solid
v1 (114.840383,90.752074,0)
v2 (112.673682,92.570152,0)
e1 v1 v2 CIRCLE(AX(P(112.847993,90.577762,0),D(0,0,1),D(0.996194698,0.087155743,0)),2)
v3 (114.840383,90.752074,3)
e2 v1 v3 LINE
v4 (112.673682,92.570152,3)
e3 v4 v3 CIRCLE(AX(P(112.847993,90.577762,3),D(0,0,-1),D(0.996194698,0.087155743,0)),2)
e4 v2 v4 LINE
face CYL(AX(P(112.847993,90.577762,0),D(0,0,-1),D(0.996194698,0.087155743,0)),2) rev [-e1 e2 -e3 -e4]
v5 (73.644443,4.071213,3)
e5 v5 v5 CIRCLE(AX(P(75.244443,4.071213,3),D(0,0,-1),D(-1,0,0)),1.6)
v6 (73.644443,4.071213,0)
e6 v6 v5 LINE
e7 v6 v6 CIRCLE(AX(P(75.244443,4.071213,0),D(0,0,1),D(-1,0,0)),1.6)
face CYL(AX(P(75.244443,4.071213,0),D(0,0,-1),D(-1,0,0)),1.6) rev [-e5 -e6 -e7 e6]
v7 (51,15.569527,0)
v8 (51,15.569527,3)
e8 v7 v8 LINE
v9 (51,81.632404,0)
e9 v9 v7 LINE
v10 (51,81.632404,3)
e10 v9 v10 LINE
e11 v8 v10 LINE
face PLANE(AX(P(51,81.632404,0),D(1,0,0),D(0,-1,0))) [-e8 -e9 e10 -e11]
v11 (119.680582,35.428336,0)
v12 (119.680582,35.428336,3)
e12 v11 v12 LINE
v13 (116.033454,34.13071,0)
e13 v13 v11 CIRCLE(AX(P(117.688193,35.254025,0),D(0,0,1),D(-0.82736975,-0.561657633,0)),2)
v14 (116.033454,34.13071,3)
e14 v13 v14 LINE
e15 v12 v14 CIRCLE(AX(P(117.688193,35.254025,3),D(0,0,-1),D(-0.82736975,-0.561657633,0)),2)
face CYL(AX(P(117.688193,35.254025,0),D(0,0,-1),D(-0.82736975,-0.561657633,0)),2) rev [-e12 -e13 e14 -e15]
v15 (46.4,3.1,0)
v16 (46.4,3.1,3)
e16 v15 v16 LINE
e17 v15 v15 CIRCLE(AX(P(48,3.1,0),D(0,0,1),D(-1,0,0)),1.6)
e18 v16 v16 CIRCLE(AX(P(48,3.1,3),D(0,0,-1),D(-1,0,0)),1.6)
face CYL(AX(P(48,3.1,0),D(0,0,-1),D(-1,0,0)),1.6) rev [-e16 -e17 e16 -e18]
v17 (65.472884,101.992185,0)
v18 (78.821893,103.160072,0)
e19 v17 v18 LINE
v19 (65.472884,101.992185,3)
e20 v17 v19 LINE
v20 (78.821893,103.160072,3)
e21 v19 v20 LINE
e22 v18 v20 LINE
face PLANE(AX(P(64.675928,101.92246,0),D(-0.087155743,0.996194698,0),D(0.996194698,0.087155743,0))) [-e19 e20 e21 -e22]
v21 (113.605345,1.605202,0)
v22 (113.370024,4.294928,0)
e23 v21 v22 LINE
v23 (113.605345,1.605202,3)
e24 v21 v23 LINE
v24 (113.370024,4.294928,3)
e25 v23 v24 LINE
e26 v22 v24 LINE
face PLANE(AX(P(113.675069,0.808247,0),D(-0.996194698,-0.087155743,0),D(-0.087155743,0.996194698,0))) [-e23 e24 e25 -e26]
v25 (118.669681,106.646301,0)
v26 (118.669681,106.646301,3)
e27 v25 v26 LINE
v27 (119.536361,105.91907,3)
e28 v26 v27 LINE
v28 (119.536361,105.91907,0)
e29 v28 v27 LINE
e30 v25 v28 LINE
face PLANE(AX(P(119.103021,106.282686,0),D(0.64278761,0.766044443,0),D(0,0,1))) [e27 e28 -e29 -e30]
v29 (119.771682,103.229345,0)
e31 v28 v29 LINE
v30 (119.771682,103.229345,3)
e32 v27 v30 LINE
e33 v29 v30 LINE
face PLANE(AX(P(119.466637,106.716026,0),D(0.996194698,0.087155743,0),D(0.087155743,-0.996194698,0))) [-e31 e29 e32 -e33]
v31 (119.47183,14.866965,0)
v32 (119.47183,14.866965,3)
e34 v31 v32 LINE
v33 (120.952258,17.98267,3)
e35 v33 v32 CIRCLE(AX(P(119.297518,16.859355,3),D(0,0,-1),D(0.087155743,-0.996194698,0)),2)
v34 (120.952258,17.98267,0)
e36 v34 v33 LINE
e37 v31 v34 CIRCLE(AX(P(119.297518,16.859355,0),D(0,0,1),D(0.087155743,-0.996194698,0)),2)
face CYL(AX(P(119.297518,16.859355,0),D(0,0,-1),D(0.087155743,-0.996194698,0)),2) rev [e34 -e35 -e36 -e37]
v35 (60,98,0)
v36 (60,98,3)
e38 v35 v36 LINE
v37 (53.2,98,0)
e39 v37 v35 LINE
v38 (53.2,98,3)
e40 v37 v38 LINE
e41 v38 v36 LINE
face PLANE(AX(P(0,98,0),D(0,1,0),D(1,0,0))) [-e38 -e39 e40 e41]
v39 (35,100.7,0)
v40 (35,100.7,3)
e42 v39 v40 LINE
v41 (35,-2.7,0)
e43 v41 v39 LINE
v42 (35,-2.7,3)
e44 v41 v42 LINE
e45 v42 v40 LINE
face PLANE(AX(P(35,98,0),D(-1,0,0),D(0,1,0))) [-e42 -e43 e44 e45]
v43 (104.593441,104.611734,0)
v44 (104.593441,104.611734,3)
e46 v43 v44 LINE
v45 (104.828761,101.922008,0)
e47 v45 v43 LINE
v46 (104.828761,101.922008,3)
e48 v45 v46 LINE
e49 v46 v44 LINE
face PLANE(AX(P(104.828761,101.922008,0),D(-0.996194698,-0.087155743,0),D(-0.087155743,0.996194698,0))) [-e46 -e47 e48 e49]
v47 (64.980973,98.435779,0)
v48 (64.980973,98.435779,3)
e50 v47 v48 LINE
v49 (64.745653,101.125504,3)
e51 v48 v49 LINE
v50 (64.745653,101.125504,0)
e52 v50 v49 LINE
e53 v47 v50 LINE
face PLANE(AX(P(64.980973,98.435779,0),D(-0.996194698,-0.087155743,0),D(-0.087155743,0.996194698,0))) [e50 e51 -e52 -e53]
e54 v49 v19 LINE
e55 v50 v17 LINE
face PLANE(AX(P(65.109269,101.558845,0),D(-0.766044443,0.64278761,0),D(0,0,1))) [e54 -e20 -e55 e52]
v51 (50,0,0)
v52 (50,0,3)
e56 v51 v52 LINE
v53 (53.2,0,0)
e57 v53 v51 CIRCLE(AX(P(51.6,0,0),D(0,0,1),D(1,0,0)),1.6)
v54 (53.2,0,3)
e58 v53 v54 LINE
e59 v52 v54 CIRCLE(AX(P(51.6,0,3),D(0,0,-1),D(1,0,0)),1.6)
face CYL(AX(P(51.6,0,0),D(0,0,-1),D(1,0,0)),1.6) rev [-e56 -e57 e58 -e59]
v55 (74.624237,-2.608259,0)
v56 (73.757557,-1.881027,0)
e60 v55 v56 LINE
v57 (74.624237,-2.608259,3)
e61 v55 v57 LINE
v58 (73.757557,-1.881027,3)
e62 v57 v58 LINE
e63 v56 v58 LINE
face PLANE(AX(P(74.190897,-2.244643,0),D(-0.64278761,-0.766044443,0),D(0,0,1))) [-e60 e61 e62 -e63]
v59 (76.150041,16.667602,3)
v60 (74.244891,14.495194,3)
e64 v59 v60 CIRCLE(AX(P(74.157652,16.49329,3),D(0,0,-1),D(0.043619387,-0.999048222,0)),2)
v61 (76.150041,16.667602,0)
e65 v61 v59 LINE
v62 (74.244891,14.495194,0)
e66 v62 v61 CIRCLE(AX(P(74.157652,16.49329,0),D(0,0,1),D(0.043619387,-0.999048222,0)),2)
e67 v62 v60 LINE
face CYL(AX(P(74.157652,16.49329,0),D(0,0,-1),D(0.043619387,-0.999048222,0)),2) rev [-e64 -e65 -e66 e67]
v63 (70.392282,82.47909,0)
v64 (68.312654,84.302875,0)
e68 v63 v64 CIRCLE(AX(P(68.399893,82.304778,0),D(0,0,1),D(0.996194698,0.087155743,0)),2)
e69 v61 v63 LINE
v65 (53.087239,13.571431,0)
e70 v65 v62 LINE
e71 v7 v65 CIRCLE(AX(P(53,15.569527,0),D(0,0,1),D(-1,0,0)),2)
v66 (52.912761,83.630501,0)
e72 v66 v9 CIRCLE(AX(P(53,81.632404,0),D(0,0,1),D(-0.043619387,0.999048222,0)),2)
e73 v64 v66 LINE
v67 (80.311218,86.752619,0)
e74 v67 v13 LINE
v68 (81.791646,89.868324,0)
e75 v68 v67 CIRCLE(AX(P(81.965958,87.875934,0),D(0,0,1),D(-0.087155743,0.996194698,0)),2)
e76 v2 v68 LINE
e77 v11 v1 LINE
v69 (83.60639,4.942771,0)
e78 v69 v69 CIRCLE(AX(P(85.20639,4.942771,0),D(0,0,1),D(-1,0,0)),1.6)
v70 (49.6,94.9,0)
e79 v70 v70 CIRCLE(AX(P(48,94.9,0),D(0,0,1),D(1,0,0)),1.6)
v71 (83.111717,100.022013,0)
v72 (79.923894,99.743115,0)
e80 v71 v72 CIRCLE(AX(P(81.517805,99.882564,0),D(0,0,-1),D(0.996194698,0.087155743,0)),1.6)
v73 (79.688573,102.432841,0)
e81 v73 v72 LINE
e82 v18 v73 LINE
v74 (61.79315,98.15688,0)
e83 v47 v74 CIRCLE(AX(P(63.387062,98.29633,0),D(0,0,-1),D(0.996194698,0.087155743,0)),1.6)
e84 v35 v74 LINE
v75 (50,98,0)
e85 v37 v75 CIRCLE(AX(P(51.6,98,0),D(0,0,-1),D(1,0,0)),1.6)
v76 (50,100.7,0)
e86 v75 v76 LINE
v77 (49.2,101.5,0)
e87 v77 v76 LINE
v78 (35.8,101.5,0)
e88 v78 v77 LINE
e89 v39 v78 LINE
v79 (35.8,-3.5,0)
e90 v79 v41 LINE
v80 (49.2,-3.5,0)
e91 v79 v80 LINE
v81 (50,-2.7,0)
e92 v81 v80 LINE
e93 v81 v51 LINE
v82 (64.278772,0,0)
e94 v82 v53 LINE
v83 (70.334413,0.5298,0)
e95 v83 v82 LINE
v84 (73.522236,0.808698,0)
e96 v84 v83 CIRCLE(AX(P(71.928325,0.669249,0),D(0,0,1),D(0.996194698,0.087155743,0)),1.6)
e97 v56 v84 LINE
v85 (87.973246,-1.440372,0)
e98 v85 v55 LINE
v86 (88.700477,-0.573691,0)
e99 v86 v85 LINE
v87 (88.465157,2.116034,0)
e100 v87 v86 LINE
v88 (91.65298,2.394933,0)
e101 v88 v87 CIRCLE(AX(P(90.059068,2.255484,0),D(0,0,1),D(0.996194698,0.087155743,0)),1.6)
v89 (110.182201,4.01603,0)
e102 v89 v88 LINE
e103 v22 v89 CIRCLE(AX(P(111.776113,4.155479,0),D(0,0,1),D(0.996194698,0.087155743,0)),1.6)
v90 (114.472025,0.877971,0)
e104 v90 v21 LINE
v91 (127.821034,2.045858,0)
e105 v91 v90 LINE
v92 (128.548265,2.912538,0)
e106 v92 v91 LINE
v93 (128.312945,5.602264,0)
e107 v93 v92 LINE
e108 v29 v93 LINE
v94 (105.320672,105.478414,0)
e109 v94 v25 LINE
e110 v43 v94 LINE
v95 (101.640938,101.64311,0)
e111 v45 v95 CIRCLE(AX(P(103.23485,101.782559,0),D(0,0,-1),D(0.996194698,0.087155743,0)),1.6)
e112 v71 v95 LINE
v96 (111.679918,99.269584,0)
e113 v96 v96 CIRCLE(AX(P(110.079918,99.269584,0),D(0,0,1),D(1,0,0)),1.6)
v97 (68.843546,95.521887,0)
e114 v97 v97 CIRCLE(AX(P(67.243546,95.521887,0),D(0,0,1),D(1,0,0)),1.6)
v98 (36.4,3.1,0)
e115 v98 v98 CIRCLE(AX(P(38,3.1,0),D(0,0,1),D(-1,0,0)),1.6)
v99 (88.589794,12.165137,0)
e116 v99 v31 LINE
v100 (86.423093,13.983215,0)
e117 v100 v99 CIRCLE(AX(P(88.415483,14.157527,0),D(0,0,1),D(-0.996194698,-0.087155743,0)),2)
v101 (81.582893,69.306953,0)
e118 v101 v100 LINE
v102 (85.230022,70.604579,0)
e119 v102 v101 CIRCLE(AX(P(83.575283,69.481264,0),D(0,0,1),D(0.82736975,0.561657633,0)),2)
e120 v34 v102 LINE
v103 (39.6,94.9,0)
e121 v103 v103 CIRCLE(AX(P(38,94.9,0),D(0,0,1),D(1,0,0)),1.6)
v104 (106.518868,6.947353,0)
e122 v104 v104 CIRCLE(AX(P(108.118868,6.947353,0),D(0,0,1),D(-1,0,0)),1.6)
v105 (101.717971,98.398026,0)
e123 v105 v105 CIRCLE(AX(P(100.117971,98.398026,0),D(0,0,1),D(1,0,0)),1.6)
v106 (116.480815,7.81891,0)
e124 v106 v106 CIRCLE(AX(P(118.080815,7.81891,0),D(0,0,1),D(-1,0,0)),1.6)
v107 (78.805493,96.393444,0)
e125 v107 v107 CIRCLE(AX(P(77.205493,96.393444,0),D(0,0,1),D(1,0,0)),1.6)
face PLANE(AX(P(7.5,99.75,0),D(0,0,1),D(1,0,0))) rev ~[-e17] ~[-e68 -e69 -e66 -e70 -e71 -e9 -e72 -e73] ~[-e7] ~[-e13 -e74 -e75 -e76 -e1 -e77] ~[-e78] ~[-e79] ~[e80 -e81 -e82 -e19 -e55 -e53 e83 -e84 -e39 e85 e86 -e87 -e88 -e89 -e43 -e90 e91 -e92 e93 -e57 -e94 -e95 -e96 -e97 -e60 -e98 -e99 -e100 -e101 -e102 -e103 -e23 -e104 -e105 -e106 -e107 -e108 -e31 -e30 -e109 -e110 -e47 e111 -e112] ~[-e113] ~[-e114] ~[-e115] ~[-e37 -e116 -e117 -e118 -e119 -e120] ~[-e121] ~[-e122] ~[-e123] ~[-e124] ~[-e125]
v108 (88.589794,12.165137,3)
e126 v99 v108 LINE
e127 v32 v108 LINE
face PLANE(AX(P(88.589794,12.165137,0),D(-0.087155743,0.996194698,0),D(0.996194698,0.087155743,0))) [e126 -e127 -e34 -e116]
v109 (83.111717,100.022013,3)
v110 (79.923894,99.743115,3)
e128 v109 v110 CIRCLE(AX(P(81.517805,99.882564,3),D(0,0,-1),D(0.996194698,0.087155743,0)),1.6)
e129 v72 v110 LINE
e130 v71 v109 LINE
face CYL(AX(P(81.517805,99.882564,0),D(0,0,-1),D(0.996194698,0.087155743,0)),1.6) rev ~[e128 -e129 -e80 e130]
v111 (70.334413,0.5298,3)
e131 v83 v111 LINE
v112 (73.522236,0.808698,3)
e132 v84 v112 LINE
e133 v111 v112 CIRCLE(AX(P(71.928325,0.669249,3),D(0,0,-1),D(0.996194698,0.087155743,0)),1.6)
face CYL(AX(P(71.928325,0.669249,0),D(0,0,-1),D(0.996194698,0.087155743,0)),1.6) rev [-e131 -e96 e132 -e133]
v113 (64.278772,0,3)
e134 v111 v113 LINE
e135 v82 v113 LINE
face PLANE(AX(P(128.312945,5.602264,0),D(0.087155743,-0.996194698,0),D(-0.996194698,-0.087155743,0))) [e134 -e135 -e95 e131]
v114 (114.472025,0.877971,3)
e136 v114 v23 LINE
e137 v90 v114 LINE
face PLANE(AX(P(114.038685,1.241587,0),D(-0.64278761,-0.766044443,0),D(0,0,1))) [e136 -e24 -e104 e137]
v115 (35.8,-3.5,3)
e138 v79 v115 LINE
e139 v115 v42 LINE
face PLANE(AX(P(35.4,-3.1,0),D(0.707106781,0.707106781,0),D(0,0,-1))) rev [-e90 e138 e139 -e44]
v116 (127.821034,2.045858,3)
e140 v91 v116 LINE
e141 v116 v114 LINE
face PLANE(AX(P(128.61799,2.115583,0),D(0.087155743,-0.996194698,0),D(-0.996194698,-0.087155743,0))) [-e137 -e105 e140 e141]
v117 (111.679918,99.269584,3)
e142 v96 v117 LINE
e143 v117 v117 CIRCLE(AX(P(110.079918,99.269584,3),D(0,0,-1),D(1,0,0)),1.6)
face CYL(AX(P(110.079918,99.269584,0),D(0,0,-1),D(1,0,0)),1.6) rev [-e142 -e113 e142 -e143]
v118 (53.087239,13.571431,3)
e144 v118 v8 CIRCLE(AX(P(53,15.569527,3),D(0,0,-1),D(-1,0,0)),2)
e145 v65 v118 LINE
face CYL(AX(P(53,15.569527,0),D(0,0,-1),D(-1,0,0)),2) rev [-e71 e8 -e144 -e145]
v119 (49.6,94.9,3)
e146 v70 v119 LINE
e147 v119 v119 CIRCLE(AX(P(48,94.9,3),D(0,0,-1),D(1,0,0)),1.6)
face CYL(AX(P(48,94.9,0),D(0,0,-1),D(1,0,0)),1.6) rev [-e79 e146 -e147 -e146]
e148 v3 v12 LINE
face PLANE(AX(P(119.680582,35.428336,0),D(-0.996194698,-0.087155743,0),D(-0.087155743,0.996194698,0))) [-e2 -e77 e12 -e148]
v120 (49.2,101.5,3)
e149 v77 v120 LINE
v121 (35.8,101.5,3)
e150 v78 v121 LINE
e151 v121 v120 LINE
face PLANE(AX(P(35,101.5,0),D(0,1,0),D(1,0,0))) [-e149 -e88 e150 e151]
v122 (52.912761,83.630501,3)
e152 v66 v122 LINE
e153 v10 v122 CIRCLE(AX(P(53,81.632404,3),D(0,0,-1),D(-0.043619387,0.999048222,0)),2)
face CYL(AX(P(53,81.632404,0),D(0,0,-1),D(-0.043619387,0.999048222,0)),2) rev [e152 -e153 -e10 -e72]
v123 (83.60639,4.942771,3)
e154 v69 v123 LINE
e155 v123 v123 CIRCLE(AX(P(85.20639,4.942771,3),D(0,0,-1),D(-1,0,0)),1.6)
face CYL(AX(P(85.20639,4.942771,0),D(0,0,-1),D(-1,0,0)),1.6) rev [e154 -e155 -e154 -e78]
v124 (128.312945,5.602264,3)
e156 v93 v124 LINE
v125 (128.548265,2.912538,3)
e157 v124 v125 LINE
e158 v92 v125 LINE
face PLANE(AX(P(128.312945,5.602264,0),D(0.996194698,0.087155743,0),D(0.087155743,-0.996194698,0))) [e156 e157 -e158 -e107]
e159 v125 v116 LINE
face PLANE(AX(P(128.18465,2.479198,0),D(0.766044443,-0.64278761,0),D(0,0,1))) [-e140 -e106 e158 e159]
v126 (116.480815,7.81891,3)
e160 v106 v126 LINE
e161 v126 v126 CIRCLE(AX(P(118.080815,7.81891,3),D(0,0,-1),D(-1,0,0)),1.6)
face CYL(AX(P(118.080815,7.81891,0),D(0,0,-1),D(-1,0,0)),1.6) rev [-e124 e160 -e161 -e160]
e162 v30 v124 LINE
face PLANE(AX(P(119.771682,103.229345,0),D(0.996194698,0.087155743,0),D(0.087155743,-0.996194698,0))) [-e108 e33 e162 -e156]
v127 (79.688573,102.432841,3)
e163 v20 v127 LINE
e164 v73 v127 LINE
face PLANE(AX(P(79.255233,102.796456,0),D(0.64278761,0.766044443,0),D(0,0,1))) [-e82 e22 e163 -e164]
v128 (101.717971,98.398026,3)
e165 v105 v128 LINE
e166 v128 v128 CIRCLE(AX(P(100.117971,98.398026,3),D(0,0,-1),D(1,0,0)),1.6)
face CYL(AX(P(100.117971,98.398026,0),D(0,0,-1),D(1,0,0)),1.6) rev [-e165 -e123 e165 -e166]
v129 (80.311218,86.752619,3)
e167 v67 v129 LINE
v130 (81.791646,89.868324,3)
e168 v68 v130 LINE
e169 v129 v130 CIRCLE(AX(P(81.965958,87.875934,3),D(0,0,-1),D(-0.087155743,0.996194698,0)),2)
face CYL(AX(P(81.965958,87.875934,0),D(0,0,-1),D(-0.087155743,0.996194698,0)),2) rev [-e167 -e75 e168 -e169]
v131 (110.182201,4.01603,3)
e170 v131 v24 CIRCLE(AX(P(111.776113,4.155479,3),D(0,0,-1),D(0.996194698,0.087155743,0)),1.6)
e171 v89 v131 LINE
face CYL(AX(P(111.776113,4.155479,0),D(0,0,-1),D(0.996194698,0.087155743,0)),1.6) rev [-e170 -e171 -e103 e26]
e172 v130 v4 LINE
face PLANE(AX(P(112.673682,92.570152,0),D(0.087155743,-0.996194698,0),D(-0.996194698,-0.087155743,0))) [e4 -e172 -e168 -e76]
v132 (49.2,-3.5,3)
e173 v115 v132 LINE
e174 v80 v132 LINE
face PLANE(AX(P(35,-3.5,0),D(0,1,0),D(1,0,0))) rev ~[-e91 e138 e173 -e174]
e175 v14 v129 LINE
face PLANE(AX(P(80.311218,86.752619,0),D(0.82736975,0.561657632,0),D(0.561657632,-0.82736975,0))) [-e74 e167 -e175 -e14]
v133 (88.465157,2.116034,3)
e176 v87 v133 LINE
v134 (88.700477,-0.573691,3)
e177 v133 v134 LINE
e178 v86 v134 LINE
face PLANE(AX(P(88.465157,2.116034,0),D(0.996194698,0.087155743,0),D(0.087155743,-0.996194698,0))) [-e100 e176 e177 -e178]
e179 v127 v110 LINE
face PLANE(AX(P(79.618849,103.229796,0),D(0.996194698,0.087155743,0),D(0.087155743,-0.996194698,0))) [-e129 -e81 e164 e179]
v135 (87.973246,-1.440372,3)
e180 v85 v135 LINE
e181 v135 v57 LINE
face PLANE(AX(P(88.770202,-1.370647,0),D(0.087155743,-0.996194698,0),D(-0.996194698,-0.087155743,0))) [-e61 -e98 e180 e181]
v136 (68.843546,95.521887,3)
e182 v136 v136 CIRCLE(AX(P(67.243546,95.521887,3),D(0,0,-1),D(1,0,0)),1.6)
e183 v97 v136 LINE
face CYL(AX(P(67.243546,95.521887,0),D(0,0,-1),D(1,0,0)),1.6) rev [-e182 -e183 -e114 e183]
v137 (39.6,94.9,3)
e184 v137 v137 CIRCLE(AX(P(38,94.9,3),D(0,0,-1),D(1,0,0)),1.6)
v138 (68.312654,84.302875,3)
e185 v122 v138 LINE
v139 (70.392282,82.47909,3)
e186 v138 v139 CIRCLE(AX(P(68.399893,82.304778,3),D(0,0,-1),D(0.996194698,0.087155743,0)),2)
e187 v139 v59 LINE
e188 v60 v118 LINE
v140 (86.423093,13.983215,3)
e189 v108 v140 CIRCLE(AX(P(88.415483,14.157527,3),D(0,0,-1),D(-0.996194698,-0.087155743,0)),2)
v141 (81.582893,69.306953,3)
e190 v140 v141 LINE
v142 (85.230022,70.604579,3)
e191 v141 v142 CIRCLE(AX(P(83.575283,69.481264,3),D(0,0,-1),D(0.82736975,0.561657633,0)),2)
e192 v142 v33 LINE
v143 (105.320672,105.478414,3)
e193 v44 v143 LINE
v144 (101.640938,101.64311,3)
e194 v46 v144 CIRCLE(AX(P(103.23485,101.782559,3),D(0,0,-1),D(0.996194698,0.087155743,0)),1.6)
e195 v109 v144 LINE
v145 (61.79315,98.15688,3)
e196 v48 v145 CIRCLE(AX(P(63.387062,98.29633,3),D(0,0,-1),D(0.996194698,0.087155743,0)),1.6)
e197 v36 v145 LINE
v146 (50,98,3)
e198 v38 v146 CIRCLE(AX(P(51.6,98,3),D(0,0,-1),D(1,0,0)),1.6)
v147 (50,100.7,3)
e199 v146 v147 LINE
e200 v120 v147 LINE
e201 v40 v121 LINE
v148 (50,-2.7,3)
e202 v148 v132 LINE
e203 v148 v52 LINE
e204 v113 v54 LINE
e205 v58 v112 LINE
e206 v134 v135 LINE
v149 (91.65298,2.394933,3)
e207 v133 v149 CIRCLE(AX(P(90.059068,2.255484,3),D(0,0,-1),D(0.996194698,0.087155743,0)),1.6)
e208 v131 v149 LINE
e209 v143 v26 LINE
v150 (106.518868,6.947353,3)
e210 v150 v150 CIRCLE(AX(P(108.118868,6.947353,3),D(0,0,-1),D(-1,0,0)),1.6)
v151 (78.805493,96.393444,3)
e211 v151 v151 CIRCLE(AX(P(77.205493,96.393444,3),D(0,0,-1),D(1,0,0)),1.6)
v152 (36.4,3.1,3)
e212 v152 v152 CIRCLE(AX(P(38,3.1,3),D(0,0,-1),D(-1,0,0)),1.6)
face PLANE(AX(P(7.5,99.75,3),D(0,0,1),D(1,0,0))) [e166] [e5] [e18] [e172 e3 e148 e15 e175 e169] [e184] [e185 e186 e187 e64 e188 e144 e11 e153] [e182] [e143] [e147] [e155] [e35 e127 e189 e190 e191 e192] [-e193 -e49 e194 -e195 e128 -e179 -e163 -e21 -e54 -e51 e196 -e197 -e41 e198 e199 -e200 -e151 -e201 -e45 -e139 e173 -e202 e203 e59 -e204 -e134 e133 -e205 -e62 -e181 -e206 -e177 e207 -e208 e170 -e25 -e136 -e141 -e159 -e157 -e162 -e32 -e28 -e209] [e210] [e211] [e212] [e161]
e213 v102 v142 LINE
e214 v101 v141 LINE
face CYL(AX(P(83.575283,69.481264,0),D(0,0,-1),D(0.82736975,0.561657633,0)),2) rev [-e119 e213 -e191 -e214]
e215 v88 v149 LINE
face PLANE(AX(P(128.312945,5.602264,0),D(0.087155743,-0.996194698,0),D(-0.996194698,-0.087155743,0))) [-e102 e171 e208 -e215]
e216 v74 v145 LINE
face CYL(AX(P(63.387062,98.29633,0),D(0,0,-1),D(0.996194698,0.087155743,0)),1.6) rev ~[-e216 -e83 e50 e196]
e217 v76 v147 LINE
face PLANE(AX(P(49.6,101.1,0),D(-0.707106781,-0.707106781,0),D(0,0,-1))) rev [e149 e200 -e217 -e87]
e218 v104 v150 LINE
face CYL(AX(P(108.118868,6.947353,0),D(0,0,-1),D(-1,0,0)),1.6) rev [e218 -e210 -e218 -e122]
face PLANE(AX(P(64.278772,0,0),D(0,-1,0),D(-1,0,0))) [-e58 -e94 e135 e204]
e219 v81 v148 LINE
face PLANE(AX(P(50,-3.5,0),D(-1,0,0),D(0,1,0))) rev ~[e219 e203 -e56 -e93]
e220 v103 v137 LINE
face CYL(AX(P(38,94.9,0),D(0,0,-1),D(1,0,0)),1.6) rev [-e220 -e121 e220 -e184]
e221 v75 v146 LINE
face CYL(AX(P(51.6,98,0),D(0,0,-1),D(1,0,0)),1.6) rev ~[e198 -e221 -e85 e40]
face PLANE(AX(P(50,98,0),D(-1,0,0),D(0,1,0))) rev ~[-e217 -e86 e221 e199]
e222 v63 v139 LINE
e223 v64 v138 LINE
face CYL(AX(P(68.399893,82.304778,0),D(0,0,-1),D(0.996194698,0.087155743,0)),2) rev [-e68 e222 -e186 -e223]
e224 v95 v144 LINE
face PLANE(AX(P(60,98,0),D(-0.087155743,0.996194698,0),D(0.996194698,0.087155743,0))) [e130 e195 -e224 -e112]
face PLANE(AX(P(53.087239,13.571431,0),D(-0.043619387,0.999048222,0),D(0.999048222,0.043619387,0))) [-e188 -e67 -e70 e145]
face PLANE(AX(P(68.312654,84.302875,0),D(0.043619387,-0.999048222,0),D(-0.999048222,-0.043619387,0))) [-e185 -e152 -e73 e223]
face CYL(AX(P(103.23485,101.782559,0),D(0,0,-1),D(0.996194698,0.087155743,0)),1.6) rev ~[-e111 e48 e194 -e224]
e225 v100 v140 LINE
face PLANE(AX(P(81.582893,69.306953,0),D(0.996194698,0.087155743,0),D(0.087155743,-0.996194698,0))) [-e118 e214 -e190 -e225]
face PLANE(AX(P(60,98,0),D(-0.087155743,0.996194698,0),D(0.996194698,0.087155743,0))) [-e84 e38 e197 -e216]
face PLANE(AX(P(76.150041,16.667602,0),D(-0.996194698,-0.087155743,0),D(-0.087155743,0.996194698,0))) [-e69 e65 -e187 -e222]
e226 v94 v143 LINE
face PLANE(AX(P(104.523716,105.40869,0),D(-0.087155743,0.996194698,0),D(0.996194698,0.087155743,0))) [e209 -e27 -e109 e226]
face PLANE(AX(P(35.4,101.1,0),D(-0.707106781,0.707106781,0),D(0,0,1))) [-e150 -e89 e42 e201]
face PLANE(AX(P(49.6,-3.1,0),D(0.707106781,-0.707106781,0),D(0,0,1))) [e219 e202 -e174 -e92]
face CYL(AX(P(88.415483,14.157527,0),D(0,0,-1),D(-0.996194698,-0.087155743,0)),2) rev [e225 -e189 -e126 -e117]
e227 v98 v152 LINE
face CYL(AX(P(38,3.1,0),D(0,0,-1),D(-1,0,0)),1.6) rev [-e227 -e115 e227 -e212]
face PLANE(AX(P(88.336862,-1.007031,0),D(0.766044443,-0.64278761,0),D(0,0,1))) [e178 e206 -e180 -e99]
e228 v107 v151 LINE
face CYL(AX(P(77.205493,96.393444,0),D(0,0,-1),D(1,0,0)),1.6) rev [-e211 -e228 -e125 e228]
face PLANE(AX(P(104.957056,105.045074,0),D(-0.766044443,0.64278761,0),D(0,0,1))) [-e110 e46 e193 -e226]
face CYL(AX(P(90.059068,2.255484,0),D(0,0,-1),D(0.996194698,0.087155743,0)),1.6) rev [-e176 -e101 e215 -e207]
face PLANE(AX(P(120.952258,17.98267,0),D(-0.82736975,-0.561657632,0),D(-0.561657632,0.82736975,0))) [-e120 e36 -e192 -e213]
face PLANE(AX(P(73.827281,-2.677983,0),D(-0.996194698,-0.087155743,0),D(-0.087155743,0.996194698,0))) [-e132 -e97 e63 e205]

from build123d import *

# Parameters (mm, degrees)
EXTRUDE_1_DEPTH     = 3
EXTRUDE_2_DEPTH     = 3
SKETCH_3_R          = 1.6
CUT_EXTRUDE_1_DEPTH = 168.152318263
SKETCH_4_W          = 15
SKETCH_4_H          = 3.5
EXTRUDE_3_DEPTH     = 3
SKETCH_5_R          = 1.6
CUT_EXTRUDE_2_DEPTH = 168.152318263
CHAMFER_1_SIZE      = 0.8
CUT_EXTRUDE_3_DEPTH = 168.054153154
CUT_EXTRUDE_4_DEPTH = 10


with BuildPart() as part:
    # 草图1 → 凸台-拉伸1 (new body)
    with BuildSketch(Plane.XY):
        Polygon((0, 0), (0, 98), (60, 98), (119.771681886, 103.229344565), (128.312944675, 5.602264152), (64.278772405, 0), align=None)
    extrude(amount=EXTRUDE_1_DEPTH)

    # 草图2 → 凸台-拉伸2 (add, through all)
    with BuildSketch(Plane.XY):
        Polygon((119.771681886, 103.229344565), (104.828761414, 101.922008424), (104.523716315, 105.408689867), (119.466636786, 106.716026008), align=None)
        Polygon((79.923893962, 99.743114855), (64.98097349, 98.435778714), (64.675928391, 101.922460157), (79.618848862, 103.229796298), align=None)
        Polygon((128.617989774, 2.115582709), (113.675069303, 0.808246567), (113.370024203, 4.294928011), (128.312944675, 5.602264152), align=None)
        Polygon((88.770201851, -1.370647001), (73.827281379, -2.677983143), (73.52223628, 0.808698301), (88.465156751, 2.116034442), align=None)
    extrude(amount=EXTRUDE_2_DEPTH)

    # 草图3 → 切除-拉伸1 (cut, through all)
    with BuildSketch(Plane.XY):
        with Locations((110.079917707, 99.269583573)):
            Circle(SKETCH_3_R)
        with Locations((100.117970726, 98.398026146)):
            Circle(SKETCH_3_R)
        with Locations((77.20549267, 96.393444063)):
            Circle(SKETCH_3_R)
        with Locations((67.243545689, 95.521886635)):
            Circle(SKETCH_3_R)
        with Locations(Location((118.080814891, 7.818910288, 0), (0, 0, 180))):
            Circle(SKETCH_3_R)
        with Locations(Location((108.11886791, 6.947352861, 0), (0, 0, 180))):
            Circle(SKETCH_3_R)
        with Locations(Location((85.206389854, 4.942770778, 0), (0, 0, 180))):
            Circle(SKETCH_3_R)
        with Locations(Location((75.244442873, 4.07121335, 0), (0, 0, 180))):
            Circle(SKETCH_3_R)
        with BuildLine():
            Line((101.64093838, 101.643110047), (104.828761414, 101.922008424))
            ThreePointArc((104.828761414, 101.922008424), (103.374299086, 100.188647718), (101.64093838, 101.643110047))
        make_face()
        with BuildLine():
            Line((79.923893962, 99.743114855), (83.111716996, 100.022013232))
            ThreePointArc((83.111716996, 100.022013232), (81.657254667, 98.288652526), (79.923893962, 99.743114855))
        make_face()
        with BuildLine():
            Line((61.793150457, 98.156880337), (64.98097349, 98.435778714))
            ThreePointArc((64.98097349, 98.435778714), (63.526511162, 96.702418008), (61.793150457, 98.156880337))
        make_face()
        with BuildLine():
            Line((70.334413246, 0.529799924), (73.52223628, 0.808698301))
            ThreePointArc((73.52223628, 0.808698301), (71.788875574, 2.263160629), (70.334413246, 0.529799924))
        make_face()
        with BuildLine():
            Line((88.465156751, 2.116034442), (91.652979785, 2.394932819))
            ThreePointArc((91.652979785, 2.394932819), (89.91961908, 3.849395147), (88.465156751, 2.116034442))
        make_face()
        with BuildLine():
            Line((110.18220117, 4.016029634), (113.370024203, 4.294928011))
            ThreePointArc((113.370024203, 4.294928011), (111.636663498, 5.749390339), (110.18220117, 4.016029634))
        make_face()
    extrude(amount=CUT_EXTRUDE_1_DEPTH, mode=Mode.SUBTRACT)

    # 草图4 → 凸台-拉伸3 (add, through all)
    with BuildSketch(Plane.XY):
        with Locations((42.5, 99.75)):
            Rectangle(SKETCH_4_W, SKETCH_4_H)
        with Locations((7.5, 99.75)):
            Rectangle(SKETCH_4_W, SKETCH_4_H)
        with Locations((42.5, -1.75)):
            Rectangle(SKETCH_4_W, SKETCH_4_H)
        with Locations((7.5, -1.75)):
            Rectangle(SKETCH_4_W, SKETCH_4_H)
    extrude(amount=EXTRUDE_3_DEPTH)

    # 草图5 → 切除-拉伸2 (cut, through all)
    with BuildSketch(Plane.XY):
        with Locations((3, 94.9)):
            Circle(SKETCH_5_R)
        with Locations((13, 94.9)):
            Circle(SKETCH_5_R)
        with Locations((38, 94.9)):
            Circle(SKETCH_5_R)
        with Locations((48, 94.9)):
            Circle(SKETCH_5_R)
        with Locations(Location((3, 3.1, 0), (0, 0, 180))):
            Circle(SKETCH_5_R)
        with Locations(Location((13, 3.1, 0), (0, 0, 180))):
            Circle(SKETCH_5_R)
        with Locations(Location((48, 3.1, 0), (0, 0, 180))):
            Circle(SKETCH_5_R)
        with Locations(Location((38, 3.1, 0), (0, 0, 180))):
            Circle(SKETCH_5_R)
        with BuildLine():
            Line((15, 98), (18.2, 98))
            ThreePointArc((18.2, 98), (16.6, 96.4), (15, 98))
        make_face()
        with BuildLine():
            Line((31.8, 98), (35, 98))
            ThreePointArc((35, 98), (33.4, 96.4), (31.8, 98))
        make_face()
        with BuildLine():
            Line((50, 98), (53.2, 98))
            ThreePointArc((53.2, 98), (51.6, 96.4), (50, 98))
        make_face()
        with BuildLine():
            Line((50, 0), (53.2, 0))
            ThreePointArc((53.2, 0), (51.6, 1.6), (50, 0))
        make_face()
        with BuildLine():
            Line((31.8, 0), (35, 0))
            ThreePointArc((35, 0), (33.4, 1.6), (31.8, 0))
        make_face()
        with BuildLine():
            Line((15, 0), (18.2, 0))
            ThreePointArc((18.2, 0), (16.6, 1.6), (15, 0))
        make_face()
    extrude(amount=CUT_EXTRUDE_2_DEPTH, mode=Mode.SUBTRACT)

    # 倒角1
    chamfer_1_edges = [part.edges().sort_by_distance(p)[0] for p in [
        (0, 101.5, 1.5),
        (15, 101.5, 1.5),
        (35, -3.5, 1.5),
        (50, -3.5, 1.5),
        (35, 101.5, 1.5),
        (50, 101.5, 1.5),
        (0, -3.5, 1.5),
        (15, -3.5, 1.5),
        (119.466636786, 106.716026008, 1.5),
        (104.523716315, 105.408689867, 1.5),
        (79.618848862, 103.229796298, 1.5),
        (64.675928391, 101.922460157, 1.5),
        (128.617989774, 2.115582709, 1.5),
        (113.675069303, 0.808246567, 1.5),
        (88.770201851, -1.370647001, 1.5),
        (73.827281379, -2.677983143, 1.5),
    ]]
    chamfer(chamfer_1_edges, length=CHAMFER_1_SIZE)

    # 草图6 → 切除-拉伸3 (cut, through all)
    with BuildSketch(Plane.XY):
        with BuildLine():
            Line((88.589794022, 12.165137166), (119.471829663, 14.866965191))
            ThreePointArc((119.471829663, 14.866965191), (121.103967944, 16.001019432), (120.952257678, 17.982669852))
            Line((120.952257678, 17.982669852), (85.230022186, 70.604579281))
            ThreePointArc((85.230022186, 70.604579281), (82.904864414, 71.365551505), (81.582893289, 69.306952531))
            Line((81.582893289, 69.306952531), (86.42309314, 13.983215076))
            ThreePointArc((86.42309314, 13.983215076), (87.129907317, 12.625437676), (88.589794022, 12.165137166))
        make_face()
        with BuildLine():
            Line((119.680582461, 35.428336277), (114.84038261, 90.752073731))
            ThreePointArc((114.84038261, 90.752073731), (114.133568433, 92.109851132), (112.673681728, 92.570151642))
            Line((112.673681728, 92.570151642), (81.791646087, 89.868323617))
            ThreePointArc((81.791646087, 89.868323617), (80.159507806, 88.734269376), (80.311218072, 86.752618956))
            Line((80.311218072, 86.752618956), (116.033453564, 34.130709527))
            ThreePointArc((116.033453564, 34.130709527), (118.358611336, 33.369737303), (119.680582461, 35.428336277))
        make_face()
        with BuildLine():
            Line((51, 81.632404391), (51, 15.56952717))
            ThreePointArc((51, 15.56952717), (51.616973888, 14.124799246), (53.087238775, 13.571430727))
            Line((53.087238775, 13.571430727), (74.244890746, 14.495193762))
            ThreePointArc((74.244890746, 14.495193762), (75.661331586, 15.174598575), (76.150041367, 16.667601691))
            Line((76.150041367, 16.667601691), (70.392282235, 82.479089719))
            ThreePointArc((70.392282235, 82.479089719), (69.718584469, 83.808457848), (68.312654064, 84.302874676))
            Line((68.312654064, 84.302874676), (52.912761225, 83.630500834))
            ThreePointArc((52.912761225, 83.630500834), (51.555272076, 83.015430503), (51, 81.632404391))
        make_face()
    extrude(amount=CUT_EXTRUDE_3_DEPTH, mode=Mode.SUBTRACT)

    # 草图7 → 切除-拉伸4 (cut)
    with BuildSketch(Plane.XY.offset(3)):
        Polygon((35, 98), (35, 0), (27.806316321, -5.327994522), (11.72452964, -8.165956877), (-13.438736579, -4.098210834), (-15.046915247, 45.849926623), (-17.790278858, 82.365042265), (-16.749692661, 87.378775759), (-5.587040729, 104.690346128), (16.549065644, 104.690346128), align=None)
    extrude(amount=-CUT_EXTRUDE_4_DEPTH, mode=Mode.SUBTRACT)


solid = part.part
